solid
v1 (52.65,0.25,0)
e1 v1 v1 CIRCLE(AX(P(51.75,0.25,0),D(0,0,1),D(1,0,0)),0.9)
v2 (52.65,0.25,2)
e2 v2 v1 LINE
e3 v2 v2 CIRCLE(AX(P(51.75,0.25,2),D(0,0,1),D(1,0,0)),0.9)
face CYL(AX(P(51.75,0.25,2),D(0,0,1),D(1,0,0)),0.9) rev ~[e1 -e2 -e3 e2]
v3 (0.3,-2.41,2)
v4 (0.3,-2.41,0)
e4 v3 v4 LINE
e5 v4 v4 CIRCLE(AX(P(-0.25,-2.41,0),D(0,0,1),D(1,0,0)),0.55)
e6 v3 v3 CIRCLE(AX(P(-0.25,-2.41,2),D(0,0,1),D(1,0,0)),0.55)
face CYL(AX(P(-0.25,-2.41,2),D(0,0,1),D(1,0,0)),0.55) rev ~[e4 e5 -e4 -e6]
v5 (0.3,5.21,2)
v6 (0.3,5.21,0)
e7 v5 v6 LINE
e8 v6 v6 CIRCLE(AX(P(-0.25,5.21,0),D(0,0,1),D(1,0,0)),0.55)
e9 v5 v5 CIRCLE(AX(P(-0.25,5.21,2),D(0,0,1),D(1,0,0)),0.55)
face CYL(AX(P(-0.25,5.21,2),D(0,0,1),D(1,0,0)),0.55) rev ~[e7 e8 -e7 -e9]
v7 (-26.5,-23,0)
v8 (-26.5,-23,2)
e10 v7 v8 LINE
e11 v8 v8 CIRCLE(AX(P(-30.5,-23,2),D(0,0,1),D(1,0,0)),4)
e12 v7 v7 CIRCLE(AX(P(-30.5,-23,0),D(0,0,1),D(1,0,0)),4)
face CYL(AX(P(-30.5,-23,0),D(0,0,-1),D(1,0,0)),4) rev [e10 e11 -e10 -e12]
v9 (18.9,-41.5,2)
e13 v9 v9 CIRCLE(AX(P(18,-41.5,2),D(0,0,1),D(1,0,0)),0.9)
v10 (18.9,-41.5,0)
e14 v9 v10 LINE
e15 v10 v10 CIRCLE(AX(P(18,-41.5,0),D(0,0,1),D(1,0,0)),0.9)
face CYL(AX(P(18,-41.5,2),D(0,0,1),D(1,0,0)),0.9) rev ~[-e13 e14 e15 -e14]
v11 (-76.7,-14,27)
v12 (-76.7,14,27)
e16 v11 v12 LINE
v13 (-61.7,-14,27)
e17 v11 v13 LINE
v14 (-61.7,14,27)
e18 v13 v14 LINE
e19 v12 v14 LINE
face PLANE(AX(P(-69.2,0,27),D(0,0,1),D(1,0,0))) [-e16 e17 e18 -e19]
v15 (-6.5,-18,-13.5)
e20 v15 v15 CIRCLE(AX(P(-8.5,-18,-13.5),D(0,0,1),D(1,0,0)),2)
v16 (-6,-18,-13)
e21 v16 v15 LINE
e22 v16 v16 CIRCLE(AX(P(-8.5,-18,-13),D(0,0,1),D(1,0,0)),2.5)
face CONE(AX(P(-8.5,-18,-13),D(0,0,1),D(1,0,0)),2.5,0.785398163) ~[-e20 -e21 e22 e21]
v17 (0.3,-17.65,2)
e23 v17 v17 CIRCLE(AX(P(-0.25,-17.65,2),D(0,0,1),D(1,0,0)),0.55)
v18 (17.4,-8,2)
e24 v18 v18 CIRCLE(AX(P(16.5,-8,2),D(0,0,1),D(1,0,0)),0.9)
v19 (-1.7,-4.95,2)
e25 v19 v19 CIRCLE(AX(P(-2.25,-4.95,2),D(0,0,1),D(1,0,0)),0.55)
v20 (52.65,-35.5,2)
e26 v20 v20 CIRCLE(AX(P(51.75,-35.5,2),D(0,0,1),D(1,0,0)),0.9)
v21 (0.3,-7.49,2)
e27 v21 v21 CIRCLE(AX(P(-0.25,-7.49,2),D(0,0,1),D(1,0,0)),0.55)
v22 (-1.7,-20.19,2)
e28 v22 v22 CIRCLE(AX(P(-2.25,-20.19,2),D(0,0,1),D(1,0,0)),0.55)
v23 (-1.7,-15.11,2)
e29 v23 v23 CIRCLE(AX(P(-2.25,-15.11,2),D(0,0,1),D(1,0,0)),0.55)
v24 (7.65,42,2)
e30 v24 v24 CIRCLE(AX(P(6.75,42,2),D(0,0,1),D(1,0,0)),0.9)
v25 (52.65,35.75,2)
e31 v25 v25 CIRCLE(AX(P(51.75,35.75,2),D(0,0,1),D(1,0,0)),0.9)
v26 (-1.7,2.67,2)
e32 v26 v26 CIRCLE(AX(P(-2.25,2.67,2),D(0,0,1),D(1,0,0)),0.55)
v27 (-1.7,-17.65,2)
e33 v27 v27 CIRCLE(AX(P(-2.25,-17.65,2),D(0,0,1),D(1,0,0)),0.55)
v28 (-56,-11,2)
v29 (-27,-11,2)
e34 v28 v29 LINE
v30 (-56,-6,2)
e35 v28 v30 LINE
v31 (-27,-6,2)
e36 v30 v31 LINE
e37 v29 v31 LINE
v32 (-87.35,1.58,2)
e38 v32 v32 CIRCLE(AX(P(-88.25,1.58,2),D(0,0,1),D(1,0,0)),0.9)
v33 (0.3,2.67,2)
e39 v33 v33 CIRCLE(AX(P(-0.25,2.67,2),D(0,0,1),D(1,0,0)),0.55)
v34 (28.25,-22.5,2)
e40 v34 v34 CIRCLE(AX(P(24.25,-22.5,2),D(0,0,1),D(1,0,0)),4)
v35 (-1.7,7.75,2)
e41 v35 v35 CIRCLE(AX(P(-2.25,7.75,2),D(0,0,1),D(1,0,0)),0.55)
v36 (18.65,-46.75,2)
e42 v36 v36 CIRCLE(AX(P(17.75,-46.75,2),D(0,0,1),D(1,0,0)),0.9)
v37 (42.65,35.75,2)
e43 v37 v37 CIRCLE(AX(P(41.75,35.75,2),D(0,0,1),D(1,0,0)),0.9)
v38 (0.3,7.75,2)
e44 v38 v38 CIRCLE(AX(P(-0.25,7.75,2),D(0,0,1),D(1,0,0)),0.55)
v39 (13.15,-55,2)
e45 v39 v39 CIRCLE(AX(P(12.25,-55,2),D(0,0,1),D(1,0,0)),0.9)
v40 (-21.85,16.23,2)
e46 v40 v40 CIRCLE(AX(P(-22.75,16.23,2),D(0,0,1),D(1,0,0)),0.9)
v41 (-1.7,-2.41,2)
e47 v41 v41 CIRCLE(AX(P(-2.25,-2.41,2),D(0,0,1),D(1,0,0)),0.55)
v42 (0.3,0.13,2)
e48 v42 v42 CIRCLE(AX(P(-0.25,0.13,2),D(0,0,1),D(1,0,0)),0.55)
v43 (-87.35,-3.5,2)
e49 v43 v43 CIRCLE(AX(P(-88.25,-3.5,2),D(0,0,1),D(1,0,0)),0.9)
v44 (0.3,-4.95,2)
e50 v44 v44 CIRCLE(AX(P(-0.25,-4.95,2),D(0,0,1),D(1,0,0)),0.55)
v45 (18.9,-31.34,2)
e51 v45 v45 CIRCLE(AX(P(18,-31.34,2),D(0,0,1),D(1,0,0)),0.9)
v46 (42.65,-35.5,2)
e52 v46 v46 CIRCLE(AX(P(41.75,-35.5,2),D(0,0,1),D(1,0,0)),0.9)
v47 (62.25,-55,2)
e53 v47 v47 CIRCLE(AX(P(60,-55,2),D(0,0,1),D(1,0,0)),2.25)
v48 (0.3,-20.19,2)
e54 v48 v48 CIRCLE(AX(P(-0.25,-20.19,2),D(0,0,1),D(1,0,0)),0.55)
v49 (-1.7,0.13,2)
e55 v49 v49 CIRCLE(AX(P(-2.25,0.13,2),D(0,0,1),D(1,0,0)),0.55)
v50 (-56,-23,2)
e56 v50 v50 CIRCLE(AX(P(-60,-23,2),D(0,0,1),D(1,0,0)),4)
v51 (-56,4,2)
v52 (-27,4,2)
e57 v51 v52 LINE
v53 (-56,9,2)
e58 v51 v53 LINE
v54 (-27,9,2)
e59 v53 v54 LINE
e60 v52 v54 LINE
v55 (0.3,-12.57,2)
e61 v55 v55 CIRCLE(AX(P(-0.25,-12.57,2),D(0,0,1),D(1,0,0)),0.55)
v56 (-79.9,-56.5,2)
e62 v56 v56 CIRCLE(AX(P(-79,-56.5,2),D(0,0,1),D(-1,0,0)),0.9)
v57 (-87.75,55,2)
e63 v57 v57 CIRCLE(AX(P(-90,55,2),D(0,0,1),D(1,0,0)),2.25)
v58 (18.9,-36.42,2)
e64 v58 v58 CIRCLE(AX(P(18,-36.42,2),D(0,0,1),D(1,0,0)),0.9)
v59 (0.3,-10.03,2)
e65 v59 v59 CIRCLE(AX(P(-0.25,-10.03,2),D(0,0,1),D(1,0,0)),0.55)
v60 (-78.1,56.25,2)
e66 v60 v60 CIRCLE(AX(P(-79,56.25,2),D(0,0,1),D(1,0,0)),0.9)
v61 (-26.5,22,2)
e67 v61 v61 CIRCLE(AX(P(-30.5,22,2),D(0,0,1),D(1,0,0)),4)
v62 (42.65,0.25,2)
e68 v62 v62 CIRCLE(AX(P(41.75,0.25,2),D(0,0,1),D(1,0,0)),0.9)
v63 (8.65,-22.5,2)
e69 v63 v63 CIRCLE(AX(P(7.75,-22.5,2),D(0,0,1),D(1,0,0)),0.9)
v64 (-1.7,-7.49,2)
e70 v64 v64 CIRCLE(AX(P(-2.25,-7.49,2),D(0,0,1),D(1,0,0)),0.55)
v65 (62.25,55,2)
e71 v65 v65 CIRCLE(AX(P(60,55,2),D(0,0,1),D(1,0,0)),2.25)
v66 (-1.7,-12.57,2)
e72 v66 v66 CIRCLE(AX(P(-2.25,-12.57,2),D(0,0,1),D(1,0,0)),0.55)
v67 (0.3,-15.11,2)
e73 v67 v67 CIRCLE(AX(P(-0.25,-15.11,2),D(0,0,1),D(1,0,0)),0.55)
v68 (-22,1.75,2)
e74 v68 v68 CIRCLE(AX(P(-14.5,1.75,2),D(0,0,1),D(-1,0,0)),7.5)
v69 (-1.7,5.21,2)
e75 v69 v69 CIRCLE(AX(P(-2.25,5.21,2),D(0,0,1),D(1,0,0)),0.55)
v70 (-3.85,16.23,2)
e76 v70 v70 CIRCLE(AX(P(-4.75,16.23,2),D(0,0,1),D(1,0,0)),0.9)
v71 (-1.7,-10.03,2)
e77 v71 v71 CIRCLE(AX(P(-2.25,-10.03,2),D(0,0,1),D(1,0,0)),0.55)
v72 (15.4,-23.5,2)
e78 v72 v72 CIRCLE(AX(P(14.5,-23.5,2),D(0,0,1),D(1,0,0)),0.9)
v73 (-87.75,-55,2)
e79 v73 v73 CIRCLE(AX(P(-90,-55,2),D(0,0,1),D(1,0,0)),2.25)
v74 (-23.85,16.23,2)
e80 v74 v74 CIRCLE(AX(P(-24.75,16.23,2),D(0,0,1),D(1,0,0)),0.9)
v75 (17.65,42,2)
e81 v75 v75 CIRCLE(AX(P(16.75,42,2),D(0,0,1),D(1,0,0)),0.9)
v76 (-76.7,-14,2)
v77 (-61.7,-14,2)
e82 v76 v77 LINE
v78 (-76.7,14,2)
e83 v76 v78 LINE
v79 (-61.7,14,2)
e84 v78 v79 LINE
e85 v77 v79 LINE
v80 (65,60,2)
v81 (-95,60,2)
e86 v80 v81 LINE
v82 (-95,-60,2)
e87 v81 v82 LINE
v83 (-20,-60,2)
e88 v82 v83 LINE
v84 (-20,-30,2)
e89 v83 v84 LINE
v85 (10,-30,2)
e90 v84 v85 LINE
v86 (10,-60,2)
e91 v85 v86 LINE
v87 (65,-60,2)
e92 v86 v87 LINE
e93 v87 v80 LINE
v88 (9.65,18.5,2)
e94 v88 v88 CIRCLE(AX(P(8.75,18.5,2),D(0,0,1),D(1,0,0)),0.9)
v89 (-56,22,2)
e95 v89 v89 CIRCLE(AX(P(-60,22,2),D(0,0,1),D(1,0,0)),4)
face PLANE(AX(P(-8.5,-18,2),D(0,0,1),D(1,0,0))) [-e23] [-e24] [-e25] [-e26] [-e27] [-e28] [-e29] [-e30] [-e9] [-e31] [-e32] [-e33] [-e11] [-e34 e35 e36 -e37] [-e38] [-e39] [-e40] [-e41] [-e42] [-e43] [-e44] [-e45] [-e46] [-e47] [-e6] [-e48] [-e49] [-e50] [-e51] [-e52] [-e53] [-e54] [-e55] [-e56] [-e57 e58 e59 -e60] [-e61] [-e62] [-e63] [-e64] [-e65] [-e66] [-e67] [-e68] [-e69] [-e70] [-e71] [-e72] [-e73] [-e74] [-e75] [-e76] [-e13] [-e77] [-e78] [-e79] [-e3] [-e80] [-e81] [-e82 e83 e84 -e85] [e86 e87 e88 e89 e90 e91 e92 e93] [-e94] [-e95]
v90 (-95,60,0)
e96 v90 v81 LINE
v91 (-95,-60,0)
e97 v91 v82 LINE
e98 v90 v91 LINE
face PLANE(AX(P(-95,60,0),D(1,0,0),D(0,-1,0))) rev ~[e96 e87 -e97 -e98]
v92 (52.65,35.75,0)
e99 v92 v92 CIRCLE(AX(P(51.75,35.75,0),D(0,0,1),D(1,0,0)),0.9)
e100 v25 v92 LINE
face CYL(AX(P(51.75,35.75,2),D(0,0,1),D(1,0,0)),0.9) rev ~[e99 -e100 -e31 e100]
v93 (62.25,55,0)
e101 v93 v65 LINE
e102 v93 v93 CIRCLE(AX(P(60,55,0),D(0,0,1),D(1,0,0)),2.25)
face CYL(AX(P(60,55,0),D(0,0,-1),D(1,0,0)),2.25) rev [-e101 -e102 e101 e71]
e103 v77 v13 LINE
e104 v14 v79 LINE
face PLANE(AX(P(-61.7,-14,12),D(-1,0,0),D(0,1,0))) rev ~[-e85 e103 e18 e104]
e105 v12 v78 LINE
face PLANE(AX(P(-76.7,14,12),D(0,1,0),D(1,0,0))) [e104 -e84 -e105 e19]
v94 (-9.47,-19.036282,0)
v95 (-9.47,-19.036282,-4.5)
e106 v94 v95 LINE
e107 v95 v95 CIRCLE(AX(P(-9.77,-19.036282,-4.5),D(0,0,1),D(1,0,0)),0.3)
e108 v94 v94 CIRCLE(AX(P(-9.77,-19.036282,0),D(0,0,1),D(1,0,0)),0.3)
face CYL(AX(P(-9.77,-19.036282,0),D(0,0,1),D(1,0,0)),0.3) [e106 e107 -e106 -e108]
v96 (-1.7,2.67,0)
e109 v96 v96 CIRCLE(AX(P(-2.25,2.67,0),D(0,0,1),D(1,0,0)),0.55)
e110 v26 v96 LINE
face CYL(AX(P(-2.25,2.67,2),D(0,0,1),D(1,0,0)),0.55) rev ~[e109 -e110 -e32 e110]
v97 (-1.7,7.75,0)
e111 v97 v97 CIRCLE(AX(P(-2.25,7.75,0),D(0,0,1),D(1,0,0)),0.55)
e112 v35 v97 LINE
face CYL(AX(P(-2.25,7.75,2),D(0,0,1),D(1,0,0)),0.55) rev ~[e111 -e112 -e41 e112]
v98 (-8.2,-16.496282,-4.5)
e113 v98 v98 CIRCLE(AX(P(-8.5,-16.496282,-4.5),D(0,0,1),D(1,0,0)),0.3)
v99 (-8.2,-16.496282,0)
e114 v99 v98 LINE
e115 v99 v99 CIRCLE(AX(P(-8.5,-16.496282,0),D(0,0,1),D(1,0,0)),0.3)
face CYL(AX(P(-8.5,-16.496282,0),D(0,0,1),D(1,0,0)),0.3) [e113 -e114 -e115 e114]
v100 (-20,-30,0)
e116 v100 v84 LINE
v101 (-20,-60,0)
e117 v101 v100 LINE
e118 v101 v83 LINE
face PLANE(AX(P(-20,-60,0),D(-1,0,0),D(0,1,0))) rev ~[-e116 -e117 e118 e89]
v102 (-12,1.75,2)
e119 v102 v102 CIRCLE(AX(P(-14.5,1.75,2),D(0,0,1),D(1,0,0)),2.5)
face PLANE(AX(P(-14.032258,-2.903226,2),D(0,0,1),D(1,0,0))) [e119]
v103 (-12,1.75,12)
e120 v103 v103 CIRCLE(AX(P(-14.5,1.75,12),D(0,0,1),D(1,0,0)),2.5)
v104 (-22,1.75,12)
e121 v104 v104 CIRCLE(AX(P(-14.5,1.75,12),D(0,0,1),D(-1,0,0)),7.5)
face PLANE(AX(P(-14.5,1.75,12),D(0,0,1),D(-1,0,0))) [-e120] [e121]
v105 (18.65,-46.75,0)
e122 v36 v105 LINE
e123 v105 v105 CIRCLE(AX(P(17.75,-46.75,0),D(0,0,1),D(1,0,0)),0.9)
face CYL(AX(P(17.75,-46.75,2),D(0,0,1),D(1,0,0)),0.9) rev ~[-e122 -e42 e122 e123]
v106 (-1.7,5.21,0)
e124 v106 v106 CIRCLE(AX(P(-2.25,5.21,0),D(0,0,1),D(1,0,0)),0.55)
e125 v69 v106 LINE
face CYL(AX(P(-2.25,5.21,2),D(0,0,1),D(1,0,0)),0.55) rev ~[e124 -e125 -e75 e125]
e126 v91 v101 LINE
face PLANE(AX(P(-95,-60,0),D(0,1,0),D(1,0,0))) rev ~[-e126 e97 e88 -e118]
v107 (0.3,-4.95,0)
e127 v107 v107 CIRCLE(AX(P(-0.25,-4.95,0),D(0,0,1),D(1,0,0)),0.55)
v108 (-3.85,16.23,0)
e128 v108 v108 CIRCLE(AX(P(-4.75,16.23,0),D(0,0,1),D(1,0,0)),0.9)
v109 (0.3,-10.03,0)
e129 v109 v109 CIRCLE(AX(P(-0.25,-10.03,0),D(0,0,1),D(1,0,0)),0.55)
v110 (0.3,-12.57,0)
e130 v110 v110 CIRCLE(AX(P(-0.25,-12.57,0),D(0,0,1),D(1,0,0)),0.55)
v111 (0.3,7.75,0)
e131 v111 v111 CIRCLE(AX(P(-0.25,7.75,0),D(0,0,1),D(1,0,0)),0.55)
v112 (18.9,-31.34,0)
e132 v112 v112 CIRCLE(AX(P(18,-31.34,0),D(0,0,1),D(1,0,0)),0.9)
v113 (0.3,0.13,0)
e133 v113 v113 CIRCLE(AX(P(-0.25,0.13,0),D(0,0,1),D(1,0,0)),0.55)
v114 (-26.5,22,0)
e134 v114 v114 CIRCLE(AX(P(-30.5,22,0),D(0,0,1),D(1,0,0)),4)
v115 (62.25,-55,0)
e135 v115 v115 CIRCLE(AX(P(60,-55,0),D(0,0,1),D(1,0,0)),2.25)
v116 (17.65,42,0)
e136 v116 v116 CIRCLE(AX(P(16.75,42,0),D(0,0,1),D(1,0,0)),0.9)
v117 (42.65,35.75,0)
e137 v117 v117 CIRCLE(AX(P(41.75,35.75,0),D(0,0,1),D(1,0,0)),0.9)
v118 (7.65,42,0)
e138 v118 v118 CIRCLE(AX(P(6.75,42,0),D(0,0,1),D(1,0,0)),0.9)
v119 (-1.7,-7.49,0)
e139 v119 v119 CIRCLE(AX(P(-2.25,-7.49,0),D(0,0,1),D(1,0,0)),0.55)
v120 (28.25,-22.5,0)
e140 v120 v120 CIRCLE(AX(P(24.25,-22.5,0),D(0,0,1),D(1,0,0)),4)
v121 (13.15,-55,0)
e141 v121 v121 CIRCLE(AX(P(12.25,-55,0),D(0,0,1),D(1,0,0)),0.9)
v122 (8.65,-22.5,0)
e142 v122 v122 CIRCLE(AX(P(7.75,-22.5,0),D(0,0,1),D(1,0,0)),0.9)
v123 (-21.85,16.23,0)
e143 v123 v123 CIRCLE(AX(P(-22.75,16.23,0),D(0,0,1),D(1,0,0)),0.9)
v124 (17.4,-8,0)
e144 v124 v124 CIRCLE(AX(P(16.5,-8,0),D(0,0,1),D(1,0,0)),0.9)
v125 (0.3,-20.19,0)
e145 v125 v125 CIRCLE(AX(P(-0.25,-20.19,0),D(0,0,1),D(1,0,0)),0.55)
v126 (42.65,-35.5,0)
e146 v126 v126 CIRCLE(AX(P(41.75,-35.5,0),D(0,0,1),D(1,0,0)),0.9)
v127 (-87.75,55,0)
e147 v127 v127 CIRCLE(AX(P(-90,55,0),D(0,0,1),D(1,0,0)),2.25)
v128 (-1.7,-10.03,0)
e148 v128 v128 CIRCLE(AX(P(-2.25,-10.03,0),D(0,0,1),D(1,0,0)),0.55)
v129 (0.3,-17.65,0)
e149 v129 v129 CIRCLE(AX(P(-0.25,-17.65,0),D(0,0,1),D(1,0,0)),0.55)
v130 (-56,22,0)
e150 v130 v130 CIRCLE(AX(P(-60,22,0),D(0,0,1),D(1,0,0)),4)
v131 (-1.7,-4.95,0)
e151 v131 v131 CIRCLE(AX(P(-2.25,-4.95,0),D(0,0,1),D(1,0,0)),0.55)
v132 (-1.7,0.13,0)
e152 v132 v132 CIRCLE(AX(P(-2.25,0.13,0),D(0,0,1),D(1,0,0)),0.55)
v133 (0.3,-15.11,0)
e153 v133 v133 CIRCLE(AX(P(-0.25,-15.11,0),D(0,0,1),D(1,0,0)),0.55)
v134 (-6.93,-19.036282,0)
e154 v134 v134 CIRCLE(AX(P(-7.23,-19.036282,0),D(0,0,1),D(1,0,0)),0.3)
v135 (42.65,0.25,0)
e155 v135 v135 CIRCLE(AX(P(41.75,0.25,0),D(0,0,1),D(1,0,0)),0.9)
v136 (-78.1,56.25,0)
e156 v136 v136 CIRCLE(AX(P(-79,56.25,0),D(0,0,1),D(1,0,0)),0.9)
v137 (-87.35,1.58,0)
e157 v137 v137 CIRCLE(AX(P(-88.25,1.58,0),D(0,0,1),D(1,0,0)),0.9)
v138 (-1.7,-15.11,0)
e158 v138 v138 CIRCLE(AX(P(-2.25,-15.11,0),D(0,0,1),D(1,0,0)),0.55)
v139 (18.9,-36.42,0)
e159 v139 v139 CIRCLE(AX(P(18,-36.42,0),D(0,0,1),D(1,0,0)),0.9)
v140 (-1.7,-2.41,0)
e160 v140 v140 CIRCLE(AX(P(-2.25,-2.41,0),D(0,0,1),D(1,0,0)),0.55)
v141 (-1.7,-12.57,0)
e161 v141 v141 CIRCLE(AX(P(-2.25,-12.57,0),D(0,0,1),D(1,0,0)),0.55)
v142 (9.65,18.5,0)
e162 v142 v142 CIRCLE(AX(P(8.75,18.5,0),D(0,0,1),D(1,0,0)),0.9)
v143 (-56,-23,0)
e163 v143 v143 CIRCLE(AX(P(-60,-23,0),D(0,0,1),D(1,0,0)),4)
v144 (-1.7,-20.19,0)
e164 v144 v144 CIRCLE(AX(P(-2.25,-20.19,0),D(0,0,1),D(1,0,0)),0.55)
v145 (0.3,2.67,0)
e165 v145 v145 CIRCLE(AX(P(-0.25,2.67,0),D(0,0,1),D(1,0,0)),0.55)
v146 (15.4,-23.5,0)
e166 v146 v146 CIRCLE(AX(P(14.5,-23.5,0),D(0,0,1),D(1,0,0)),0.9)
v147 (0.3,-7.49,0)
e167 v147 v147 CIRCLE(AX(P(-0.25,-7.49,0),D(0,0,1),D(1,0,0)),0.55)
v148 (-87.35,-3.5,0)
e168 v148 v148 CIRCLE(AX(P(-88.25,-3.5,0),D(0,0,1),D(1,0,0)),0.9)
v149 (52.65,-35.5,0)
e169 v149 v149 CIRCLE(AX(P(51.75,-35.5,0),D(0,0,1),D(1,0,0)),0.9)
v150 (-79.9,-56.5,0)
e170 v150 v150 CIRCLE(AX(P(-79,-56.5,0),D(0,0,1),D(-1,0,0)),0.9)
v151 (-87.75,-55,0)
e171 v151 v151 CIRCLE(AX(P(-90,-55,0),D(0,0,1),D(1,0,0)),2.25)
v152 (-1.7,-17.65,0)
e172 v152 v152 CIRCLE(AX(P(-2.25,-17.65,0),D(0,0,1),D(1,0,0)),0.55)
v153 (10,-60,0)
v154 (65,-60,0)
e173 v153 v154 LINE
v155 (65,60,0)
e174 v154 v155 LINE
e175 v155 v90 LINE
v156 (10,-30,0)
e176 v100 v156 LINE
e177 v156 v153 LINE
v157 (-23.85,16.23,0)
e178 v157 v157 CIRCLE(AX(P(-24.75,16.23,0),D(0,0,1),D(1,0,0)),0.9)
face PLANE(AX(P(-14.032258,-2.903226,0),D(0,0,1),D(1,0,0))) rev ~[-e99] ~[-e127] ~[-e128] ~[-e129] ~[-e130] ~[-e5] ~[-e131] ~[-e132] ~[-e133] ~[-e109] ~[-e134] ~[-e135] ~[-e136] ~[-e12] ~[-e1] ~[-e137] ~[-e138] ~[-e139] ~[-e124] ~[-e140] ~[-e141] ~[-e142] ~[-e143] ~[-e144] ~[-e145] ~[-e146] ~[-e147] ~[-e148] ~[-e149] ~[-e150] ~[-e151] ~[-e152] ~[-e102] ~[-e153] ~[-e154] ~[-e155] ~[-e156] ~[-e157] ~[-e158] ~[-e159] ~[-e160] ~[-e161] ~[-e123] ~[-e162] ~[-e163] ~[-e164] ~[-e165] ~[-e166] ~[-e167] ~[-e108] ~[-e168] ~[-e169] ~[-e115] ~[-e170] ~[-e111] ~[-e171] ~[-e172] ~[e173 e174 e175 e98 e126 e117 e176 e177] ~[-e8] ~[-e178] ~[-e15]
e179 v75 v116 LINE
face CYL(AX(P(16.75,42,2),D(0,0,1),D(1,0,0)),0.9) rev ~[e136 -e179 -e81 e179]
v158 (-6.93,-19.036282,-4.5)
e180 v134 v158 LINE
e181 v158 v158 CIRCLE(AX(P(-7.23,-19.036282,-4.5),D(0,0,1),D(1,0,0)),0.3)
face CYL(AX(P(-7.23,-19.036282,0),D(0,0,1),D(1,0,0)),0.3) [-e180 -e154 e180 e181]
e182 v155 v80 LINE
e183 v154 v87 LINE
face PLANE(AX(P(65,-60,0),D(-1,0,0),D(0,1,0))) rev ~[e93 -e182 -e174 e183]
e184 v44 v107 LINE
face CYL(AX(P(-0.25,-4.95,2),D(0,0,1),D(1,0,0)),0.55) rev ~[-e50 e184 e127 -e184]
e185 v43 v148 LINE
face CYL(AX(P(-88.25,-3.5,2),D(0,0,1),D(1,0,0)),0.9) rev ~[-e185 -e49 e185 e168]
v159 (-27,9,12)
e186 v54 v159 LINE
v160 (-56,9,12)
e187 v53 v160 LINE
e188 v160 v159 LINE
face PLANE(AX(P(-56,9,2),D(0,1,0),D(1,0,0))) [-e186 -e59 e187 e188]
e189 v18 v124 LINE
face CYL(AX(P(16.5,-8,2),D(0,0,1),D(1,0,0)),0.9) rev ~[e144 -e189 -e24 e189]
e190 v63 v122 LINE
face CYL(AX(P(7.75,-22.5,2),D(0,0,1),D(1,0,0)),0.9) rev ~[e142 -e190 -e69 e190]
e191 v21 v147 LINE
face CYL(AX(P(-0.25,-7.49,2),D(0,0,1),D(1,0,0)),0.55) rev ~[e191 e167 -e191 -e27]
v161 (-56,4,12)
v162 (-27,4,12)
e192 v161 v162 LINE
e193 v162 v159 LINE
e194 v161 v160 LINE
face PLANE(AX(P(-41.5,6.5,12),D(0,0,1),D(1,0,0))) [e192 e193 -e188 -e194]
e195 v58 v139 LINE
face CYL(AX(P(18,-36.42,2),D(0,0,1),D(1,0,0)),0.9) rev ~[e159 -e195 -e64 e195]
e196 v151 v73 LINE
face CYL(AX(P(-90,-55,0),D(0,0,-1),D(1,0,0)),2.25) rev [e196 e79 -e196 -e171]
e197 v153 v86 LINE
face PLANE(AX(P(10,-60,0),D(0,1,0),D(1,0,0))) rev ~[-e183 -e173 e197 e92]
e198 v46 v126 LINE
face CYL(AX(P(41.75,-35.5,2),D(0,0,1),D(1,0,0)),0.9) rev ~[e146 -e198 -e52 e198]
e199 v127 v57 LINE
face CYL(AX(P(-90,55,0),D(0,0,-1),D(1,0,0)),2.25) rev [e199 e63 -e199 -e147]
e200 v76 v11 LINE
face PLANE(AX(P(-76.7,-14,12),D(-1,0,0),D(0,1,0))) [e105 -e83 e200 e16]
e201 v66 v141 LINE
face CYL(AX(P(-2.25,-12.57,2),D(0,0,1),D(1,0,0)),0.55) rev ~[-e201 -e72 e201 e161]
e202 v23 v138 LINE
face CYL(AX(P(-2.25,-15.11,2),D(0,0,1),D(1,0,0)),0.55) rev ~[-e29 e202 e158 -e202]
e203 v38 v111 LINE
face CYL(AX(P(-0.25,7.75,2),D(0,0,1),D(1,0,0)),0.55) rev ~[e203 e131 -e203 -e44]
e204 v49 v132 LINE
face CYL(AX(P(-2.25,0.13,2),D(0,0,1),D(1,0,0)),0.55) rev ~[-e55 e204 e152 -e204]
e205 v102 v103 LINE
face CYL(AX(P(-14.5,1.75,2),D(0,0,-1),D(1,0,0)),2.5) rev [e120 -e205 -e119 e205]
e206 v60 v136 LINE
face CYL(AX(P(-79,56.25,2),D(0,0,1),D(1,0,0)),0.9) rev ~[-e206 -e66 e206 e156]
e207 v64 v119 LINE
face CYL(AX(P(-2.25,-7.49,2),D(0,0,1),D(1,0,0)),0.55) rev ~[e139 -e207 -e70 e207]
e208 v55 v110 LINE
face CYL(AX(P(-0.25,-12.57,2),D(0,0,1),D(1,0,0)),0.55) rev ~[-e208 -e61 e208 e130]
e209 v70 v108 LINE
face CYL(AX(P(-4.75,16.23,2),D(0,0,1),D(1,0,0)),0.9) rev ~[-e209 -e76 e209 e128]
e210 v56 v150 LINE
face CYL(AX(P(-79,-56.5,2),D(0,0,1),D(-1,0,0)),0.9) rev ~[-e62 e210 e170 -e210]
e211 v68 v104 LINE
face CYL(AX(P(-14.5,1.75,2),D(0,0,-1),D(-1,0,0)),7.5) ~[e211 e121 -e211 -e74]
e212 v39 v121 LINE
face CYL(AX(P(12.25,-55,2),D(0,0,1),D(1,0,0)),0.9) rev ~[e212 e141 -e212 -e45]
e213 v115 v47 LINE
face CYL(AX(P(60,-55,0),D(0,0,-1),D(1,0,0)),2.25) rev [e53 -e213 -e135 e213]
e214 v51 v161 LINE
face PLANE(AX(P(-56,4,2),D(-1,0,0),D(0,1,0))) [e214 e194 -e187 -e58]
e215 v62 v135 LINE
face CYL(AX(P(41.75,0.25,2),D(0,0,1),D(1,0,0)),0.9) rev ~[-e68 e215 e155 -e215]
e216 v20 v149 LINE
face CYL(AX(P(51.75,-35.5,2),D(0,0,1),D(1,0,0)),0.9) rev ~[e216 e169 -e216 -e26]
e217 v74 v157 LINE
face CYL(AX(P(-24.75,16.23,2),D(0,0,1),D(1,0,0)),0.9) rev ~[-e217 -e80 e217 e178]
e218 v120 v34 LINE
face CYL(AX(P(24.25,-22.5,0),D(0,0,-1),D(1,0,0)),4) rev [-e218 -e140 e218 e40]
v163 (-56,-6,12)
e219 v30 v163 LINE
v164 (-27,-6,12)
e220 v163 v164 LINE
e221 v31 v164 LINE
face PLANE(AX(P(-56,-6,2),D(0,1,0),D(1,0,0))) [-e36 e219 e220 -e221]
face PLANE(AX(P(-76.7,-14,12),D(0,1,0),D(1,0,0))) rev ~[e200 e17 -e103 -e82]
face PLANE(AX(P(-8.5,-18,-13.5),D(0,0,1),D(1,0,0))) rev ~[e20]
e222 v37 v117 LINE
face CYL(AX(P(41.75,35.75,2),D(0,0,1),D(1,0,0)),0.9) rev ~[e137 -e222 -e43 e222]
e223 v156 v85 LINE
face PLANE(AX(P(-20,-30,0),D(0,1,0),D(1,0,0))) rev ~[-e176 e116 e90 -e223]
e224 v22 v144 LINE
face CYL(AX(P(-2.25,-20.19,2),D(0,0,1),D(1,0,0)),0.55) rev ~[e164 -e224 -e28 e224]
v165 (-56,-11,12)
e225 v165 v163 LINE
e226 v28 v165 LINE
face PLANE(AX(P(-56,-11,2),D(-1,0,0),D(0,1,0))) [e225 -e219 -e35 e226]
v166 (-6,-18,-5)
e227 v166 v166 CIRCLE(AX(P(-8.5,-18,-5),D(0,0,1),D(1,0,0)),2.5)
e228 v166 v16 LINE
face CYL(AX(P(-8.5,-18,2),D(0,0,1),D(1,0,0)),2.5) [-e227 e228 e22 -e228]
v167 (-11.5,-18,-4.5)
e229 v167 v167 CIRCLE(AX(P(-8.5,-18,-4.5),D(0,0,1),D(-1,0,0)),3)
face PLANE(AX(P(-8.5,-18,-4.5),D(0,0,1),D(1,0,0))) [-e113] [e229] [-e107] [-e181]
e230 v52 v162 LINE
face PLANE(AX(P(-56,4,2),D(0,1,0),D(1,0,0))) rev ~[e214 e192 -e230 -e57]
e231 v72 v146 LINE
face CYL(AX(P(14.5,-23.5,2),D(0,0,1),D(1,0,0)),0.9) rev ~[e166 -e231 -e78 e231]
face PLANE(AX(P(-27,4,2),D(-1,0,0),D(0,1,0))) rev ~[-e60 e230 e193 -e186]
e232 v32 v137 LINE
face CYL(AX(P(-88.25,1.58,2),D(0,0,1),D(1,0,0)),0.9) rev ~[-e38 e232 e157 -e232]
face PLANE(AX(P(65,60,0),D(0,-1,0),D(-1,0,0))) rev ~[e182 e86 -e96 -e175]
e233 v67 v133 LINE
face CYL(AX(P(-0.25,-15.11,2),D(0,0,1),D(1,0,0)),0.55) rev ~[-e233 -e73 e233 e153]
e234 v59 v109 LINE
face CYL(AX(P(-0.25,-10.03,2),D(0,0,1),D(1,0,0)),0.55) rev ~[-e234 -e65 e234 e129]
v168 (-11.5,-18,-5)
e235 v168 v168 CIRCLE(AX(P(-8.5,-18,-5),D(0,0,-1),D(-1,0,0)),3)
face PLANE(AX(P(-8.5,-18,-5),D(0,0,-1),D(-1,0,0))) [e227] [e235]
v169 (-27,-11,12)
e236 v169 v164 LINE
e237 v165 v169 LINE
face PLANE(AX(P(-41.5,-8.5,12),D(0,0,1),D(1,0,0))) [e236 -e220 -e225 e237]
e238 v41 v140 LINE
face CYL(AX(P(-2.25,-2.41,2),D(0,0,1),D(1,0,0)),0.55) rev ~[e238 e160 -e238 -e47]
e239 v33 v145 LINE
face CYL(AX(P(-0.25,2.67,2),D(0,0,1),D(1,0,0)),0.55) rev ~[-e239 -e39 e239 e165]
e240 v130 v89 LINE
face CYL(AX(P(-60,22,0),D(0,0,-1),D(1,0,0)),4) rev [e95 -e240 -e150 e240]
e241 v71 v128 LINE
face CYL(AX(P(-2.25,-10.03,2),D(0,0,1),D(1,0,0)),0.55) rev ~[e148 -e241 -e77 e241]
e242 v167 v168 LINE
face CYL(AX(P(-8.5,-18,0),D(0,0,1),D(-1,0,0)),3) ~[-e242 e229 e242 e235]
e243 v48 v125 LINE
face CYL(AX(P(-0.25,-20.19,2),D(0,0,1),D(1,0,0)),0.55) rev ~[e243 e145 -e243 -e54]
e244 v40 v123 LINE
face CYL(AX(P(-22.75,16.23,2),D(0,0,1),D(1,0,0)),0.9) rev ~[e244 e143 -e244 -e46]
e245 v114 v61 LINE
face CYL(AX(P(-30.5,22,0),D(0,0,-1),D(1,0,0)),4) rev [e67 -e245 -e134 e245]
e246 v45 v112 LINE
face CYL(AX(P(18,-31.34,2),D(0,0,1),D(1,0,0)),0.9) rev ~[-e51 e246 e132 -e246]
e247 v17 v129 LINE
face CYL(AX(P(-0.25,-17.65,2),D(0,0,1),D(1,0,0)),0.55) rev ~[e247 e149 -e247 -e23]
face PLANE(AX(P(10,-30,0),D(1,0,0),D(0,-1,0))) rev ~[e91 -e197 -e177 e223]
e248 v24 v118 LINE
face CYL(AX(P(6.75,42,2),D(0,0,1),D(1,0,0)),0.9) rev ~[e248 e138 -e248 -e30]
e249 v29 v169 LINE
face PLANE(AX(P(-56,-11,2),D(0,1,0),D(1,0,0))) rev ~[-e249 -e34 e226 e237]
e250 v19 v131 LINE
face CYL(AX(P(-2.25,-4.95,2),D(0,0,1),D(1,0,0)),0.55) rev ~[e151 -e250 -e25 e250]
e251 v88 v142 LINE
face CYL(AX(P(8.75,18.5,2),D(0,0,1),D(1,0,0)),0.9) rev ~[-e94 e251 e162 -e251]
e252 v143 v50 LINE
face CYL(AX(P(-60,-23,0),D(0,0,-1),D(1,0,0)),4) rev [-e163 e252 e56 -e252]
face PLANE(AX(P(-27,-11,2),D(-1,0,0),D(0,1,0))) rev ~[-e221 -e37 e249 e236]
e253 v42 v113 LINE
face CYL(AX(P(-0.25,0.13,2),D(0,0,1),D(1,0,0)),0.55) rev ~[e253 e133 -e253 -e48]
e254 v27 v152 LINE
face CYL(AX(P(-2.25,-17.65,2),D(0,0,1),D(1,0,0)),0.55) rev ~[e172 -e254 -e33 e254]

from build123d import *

# Parameters (mm, degrees)
SKETCH_1_R                  = 2.25
SKETCH_1_R_2                = 4
EXTRUDE_1_DEPTH             = 2
SKETCH_3_R                  = 0.55
CUT_EXTRUDE_1_DEPTH         = 2
PATTERN_LINEAR_1_COUNT      = 2
PATTERN_LINEAR_1_PITCH      = 2
PATTERN_LINEAR_1_COUNT_DIR2 = 12
PATTERN_LINEAR_1_PITCH_DIR2 = 2.54
SKETCH_4_R                  = 0.9
CUT_EXTRUDE_2_DEPTH         = 2
SKETCH_5_R                  = 0.9
CUT_EXTRUDE_3_DEPTH         = 10
SKETCH_6_R                  = 7.5
SKETCH_6_R_2                = 2.5
SKETCH_6_W                  = 15
SKETCH_6_H                  = 28
SKETCH_6_W_2                = 29
SKETCH_6_H_2                = 5
EXTRUDE_2_DEPTH             = 10
SKETCH_7_W                  = 15
SKETCH_7_H                  = 28
EXTRUDE_3_DEPTH             = 15
SKETCH_8_R                  = 2.5
EXTRUDE_4_DEPTH             = 15.5
SKETCH_9_R                  = 3
EXTRUDE_5_DEPTH             = 5
SKETCH_10_R                 = 3
SKETCH_10_R_2               = 0.3
CUT_EXTRUDE_4_DEPTH         = 4.5
CHAMFER_1_SIZE              = 0.5


with BuildPart() as part:
    # Эскиз1 → Вытянуть1 (new body)
    with BuildSketch(Plane.XY):
        Polygon((10, -60), (65, -60), (65, 60), (-95, 60), (-95, -60), (-20, -60), (-20, -30), (10, -30), align=None)
        with Locations((-90, 55)):
            Circle(SKETCH_1_R, mode=Mode.SUBTRACT)
        with Locations((60, 55)):
            Circle(SKETCH_1_R, mode=Mode.SUBTRACT)
        with Locations((60, -55)):
            Circle(SKETCH_1_R, mode=Mode.SUBTRACT)
        with Locations((-90, -55)):
            Circle(SKETCH_1_R, mode=Mode.SUBTRACT)
        with Locations((-60, 22)):
            Circle(SKETCH_1_R_2, mode=Mode.SUBTRACT)
        with Locations((-30.5, 22)):
            Circle(SKETCH_1_R_2, mode=Mode.SUBTRACT)
        with Locations((-30.5, -23)):
            Circle(SKETCH_1_R_2, mode=Mode.SUBTRACT)
        with Locations((-60, -23)):
            Circle(SKETCH_1_R_2, mode=Mode.SUBTRACT)
        with Locations((24.25, -22.5)):
            Circle(SKETCH_1_R_2, mode=Mode.SUBTRACT)
    extrude(amount=EXTRUDE_1_DEPTH)

    # Эскиз3 → Вырез-Вытянуть1 (cut)
    with BuildSketch(Plane.XY.offset(2)):
        with Locations((-2.25, 7.75)):
            Circle(SKETCH_3_R)
    cut_extrude_1 = extrude(amount=-CUT_EXTRUDE_1_DEPTH, mode=Mode.SUBTRACT)

    # Линейный массив1: Cut-Extrude 1 2 × 12
    with Locations(*[(i * PATTERN_LINEAR_1_PITCH, -j * PATTERN_LINEAR_1_PITCH_DIR2, 0) for i in range(PATTERN_LINEAR_1_COUNT) for j in range(PATTERN_LINEAR_1_COUNT_DIR2) if (i, j) != (0, 0)]):
        add(cut_extrude_1, mode=Mode.SUBTRACT)

    # Эскиз4 → Вырез-Вытянуть2 (cut)
    with BuildSketch(Plane.XY.offset(2)):
        with Locations((17.75, -46.75)):
            Circle(SKETCH_4_R)
        with Locations((-24.75, 16.23)):
            Circle(SKETCH_4_R)
        with Locations((-88.25, 1.58)):
            Circle(SKETCH_4_R)
        with Locations((18, -41.5)):
            Circle(SKETCH_4_R)
        with Locations((14.5, -23.5)):
            Circle(SKETCH_4_R)
        with Locations((18, -36.42)):
            Circle(SKETCH_4_R)
        with Locations((-22.75, 16.23)):
            Circle(SKETCH_4_R)
        with Locations((-4.75, 16.23)):
            Circle(SKETCH_4_R)
        with Locations((18, -31.34)):
            Circle(SKETCH_4_R)
        with Locations((-88.25, -3.5)):
            Circle(SKETCH_4_R)
    extrude(amount=-CUT_EXTRUDE_2_DEPTH, mode=Mode.SUBTRACT)

    # Эскиз5 → Вырез-Вытянуть3 (cut)
    with BuildSketch(Plane.XY.offset(2)):
        with Locations((41.75, 35.75)):
            Circle(SKETCH_5_R)
        with Locations((51.75, 35.75)):
            Circle(SKETCH_5_R)
        with Locations((6.75, 42)):
            Circle(SKETCH_5_R)
        with Locations((16.75, 42)):
            Circle(SKETCH_5_R)
        with Locations((41.75, -35.5)):
            Circle(SKETCH_5_R)
        with Locations((51.75, -35.5)):
            Circle(SKETCH_5_R)
        with Locations((41.75, 0.25)):
            Circle(SKETCH_5_R)
        with Locations((51.75, 0.25)):
            Circle(SKETCH_5_R)
        with Locations((12.25, -55)):
            Circle(SKETCH_5_R)
        with Locations((-79, 56.25)):
            Circle(SKETCH_5_R)
        with Locations(Location((-79, -56.5, 0), (0, 0, 180))):
            Circle(SKETCH_5_R)
        with Locations((8.75, 18.5)):
            Circle(SKETCH_5_R)
        with Locations((16.5, -8)):
            Circle(SKETCH_5_R)
        with Locations((7.75, -22.5)):
            Circle(SKETCH_5_R)
    extrude(amount=-CUT_EXTRUDE_3_DEPTH, mode=Mode.SUBTRACT)

    # Эскиз6 → Вытянуть2 (add)
    # profile 1 of 4: a face of its own
    with BuildSketch(Plane.XY.offset(2)):
        with Locations(Location((-14.5, 1.75, 0), (0, 0, 180))):
            Circle(SKETCH_6_R)
        with Locations((-14.5, 1.75)):
            Circle(SKETCH_6_R_2, mode=Mode.SUBTRACT)
    # profile 2 of 4: a face of its own
    with BuildSketch(Plane.XY.offset(2)):
        with Locations((-69.2, 0)):
            Rectangle(SKETCH_6_W, SKETCH_6_H)
    # profile 3 of 4: a face of its own
    with BuildSketch(Plane.XY.offset(2)):
        with Locations((-41.5, 6.5)):
            Rectangle(SKETCH_6_W_2, SKETCH_6_H_2)
    # profile 4 of 4: a face of its own
    with BuildSketch(Plane.XY.offset(2)):
        with Locations((-41.5, -8.5)):
            Rectangle(SKETCH_6_W_2, SKETCH_6_H_2)
    extrude(amount=EXTRUDE_2_DEPTH)

    # Эскиз7 → Вытянуть3 (add)
    with BuildSketch(Plane.XY.offset(12)):
        with Locations((-69.2, 0)):
            Rectangle(SKETCH_7_W, SKETCH_7_H)
    extrude(amount=EXTRUDE_3_DEPTH)

    # Эскиз8 → Вытянуть4 (add)
    with BuildSketch(Plane.XY.offset(2)):
        with Locations((-8.5, -18)):
            Circle(SKETCH_8_R)
    extrude(amount=-EXTRUDE_4_DEPTH)

    # Эскиз9 → Вытянуть5 (add)
    with BuildSketch(Plane(origin=(0, 0, 0), x_dir=(-1, 0, 0), z_dir=(0, 0, -1))):
        with Locations((8.5, -18)):
            Circle(SKETCH_9_R)
    extrude(amount=EXTRUDE_5_DEPTH)

    # Эскиз10 → Вырез-Вытянуть4 (cut)
    with BuildSketch(Plane.XY):
        with Locations((-8.5, -18)):
            Circle(SKETCH_10_R)
        with Locations((-8.5, -16.496281754)):
            Circle(SKETCH_10_R_2, mode=Mode.SUBTRACT)
        with Locations((-9.77, -19.036281754)):
            Circle(SKETCH_10_R_2, mode=Mode.SUBTRACT)
        with Locations((-7.23, -19.036281754)):
            Circle(SKETCH_10_R_2, mode=Mode.SUBTRACT)
    extrude(amount=-CUT_EXTRUDE_4_DEPTH, mode=Mode.SUBTRACT)

    # Фаска1
    chamfer_1_edges = [part.edges().sort_by_distance(p)[0] for p in [
        (-11, -18, -13.5),
    ]]
    chamfer(chamfer_1_edges, length=CHAMFER_1_SIZE)


solid = part.part
